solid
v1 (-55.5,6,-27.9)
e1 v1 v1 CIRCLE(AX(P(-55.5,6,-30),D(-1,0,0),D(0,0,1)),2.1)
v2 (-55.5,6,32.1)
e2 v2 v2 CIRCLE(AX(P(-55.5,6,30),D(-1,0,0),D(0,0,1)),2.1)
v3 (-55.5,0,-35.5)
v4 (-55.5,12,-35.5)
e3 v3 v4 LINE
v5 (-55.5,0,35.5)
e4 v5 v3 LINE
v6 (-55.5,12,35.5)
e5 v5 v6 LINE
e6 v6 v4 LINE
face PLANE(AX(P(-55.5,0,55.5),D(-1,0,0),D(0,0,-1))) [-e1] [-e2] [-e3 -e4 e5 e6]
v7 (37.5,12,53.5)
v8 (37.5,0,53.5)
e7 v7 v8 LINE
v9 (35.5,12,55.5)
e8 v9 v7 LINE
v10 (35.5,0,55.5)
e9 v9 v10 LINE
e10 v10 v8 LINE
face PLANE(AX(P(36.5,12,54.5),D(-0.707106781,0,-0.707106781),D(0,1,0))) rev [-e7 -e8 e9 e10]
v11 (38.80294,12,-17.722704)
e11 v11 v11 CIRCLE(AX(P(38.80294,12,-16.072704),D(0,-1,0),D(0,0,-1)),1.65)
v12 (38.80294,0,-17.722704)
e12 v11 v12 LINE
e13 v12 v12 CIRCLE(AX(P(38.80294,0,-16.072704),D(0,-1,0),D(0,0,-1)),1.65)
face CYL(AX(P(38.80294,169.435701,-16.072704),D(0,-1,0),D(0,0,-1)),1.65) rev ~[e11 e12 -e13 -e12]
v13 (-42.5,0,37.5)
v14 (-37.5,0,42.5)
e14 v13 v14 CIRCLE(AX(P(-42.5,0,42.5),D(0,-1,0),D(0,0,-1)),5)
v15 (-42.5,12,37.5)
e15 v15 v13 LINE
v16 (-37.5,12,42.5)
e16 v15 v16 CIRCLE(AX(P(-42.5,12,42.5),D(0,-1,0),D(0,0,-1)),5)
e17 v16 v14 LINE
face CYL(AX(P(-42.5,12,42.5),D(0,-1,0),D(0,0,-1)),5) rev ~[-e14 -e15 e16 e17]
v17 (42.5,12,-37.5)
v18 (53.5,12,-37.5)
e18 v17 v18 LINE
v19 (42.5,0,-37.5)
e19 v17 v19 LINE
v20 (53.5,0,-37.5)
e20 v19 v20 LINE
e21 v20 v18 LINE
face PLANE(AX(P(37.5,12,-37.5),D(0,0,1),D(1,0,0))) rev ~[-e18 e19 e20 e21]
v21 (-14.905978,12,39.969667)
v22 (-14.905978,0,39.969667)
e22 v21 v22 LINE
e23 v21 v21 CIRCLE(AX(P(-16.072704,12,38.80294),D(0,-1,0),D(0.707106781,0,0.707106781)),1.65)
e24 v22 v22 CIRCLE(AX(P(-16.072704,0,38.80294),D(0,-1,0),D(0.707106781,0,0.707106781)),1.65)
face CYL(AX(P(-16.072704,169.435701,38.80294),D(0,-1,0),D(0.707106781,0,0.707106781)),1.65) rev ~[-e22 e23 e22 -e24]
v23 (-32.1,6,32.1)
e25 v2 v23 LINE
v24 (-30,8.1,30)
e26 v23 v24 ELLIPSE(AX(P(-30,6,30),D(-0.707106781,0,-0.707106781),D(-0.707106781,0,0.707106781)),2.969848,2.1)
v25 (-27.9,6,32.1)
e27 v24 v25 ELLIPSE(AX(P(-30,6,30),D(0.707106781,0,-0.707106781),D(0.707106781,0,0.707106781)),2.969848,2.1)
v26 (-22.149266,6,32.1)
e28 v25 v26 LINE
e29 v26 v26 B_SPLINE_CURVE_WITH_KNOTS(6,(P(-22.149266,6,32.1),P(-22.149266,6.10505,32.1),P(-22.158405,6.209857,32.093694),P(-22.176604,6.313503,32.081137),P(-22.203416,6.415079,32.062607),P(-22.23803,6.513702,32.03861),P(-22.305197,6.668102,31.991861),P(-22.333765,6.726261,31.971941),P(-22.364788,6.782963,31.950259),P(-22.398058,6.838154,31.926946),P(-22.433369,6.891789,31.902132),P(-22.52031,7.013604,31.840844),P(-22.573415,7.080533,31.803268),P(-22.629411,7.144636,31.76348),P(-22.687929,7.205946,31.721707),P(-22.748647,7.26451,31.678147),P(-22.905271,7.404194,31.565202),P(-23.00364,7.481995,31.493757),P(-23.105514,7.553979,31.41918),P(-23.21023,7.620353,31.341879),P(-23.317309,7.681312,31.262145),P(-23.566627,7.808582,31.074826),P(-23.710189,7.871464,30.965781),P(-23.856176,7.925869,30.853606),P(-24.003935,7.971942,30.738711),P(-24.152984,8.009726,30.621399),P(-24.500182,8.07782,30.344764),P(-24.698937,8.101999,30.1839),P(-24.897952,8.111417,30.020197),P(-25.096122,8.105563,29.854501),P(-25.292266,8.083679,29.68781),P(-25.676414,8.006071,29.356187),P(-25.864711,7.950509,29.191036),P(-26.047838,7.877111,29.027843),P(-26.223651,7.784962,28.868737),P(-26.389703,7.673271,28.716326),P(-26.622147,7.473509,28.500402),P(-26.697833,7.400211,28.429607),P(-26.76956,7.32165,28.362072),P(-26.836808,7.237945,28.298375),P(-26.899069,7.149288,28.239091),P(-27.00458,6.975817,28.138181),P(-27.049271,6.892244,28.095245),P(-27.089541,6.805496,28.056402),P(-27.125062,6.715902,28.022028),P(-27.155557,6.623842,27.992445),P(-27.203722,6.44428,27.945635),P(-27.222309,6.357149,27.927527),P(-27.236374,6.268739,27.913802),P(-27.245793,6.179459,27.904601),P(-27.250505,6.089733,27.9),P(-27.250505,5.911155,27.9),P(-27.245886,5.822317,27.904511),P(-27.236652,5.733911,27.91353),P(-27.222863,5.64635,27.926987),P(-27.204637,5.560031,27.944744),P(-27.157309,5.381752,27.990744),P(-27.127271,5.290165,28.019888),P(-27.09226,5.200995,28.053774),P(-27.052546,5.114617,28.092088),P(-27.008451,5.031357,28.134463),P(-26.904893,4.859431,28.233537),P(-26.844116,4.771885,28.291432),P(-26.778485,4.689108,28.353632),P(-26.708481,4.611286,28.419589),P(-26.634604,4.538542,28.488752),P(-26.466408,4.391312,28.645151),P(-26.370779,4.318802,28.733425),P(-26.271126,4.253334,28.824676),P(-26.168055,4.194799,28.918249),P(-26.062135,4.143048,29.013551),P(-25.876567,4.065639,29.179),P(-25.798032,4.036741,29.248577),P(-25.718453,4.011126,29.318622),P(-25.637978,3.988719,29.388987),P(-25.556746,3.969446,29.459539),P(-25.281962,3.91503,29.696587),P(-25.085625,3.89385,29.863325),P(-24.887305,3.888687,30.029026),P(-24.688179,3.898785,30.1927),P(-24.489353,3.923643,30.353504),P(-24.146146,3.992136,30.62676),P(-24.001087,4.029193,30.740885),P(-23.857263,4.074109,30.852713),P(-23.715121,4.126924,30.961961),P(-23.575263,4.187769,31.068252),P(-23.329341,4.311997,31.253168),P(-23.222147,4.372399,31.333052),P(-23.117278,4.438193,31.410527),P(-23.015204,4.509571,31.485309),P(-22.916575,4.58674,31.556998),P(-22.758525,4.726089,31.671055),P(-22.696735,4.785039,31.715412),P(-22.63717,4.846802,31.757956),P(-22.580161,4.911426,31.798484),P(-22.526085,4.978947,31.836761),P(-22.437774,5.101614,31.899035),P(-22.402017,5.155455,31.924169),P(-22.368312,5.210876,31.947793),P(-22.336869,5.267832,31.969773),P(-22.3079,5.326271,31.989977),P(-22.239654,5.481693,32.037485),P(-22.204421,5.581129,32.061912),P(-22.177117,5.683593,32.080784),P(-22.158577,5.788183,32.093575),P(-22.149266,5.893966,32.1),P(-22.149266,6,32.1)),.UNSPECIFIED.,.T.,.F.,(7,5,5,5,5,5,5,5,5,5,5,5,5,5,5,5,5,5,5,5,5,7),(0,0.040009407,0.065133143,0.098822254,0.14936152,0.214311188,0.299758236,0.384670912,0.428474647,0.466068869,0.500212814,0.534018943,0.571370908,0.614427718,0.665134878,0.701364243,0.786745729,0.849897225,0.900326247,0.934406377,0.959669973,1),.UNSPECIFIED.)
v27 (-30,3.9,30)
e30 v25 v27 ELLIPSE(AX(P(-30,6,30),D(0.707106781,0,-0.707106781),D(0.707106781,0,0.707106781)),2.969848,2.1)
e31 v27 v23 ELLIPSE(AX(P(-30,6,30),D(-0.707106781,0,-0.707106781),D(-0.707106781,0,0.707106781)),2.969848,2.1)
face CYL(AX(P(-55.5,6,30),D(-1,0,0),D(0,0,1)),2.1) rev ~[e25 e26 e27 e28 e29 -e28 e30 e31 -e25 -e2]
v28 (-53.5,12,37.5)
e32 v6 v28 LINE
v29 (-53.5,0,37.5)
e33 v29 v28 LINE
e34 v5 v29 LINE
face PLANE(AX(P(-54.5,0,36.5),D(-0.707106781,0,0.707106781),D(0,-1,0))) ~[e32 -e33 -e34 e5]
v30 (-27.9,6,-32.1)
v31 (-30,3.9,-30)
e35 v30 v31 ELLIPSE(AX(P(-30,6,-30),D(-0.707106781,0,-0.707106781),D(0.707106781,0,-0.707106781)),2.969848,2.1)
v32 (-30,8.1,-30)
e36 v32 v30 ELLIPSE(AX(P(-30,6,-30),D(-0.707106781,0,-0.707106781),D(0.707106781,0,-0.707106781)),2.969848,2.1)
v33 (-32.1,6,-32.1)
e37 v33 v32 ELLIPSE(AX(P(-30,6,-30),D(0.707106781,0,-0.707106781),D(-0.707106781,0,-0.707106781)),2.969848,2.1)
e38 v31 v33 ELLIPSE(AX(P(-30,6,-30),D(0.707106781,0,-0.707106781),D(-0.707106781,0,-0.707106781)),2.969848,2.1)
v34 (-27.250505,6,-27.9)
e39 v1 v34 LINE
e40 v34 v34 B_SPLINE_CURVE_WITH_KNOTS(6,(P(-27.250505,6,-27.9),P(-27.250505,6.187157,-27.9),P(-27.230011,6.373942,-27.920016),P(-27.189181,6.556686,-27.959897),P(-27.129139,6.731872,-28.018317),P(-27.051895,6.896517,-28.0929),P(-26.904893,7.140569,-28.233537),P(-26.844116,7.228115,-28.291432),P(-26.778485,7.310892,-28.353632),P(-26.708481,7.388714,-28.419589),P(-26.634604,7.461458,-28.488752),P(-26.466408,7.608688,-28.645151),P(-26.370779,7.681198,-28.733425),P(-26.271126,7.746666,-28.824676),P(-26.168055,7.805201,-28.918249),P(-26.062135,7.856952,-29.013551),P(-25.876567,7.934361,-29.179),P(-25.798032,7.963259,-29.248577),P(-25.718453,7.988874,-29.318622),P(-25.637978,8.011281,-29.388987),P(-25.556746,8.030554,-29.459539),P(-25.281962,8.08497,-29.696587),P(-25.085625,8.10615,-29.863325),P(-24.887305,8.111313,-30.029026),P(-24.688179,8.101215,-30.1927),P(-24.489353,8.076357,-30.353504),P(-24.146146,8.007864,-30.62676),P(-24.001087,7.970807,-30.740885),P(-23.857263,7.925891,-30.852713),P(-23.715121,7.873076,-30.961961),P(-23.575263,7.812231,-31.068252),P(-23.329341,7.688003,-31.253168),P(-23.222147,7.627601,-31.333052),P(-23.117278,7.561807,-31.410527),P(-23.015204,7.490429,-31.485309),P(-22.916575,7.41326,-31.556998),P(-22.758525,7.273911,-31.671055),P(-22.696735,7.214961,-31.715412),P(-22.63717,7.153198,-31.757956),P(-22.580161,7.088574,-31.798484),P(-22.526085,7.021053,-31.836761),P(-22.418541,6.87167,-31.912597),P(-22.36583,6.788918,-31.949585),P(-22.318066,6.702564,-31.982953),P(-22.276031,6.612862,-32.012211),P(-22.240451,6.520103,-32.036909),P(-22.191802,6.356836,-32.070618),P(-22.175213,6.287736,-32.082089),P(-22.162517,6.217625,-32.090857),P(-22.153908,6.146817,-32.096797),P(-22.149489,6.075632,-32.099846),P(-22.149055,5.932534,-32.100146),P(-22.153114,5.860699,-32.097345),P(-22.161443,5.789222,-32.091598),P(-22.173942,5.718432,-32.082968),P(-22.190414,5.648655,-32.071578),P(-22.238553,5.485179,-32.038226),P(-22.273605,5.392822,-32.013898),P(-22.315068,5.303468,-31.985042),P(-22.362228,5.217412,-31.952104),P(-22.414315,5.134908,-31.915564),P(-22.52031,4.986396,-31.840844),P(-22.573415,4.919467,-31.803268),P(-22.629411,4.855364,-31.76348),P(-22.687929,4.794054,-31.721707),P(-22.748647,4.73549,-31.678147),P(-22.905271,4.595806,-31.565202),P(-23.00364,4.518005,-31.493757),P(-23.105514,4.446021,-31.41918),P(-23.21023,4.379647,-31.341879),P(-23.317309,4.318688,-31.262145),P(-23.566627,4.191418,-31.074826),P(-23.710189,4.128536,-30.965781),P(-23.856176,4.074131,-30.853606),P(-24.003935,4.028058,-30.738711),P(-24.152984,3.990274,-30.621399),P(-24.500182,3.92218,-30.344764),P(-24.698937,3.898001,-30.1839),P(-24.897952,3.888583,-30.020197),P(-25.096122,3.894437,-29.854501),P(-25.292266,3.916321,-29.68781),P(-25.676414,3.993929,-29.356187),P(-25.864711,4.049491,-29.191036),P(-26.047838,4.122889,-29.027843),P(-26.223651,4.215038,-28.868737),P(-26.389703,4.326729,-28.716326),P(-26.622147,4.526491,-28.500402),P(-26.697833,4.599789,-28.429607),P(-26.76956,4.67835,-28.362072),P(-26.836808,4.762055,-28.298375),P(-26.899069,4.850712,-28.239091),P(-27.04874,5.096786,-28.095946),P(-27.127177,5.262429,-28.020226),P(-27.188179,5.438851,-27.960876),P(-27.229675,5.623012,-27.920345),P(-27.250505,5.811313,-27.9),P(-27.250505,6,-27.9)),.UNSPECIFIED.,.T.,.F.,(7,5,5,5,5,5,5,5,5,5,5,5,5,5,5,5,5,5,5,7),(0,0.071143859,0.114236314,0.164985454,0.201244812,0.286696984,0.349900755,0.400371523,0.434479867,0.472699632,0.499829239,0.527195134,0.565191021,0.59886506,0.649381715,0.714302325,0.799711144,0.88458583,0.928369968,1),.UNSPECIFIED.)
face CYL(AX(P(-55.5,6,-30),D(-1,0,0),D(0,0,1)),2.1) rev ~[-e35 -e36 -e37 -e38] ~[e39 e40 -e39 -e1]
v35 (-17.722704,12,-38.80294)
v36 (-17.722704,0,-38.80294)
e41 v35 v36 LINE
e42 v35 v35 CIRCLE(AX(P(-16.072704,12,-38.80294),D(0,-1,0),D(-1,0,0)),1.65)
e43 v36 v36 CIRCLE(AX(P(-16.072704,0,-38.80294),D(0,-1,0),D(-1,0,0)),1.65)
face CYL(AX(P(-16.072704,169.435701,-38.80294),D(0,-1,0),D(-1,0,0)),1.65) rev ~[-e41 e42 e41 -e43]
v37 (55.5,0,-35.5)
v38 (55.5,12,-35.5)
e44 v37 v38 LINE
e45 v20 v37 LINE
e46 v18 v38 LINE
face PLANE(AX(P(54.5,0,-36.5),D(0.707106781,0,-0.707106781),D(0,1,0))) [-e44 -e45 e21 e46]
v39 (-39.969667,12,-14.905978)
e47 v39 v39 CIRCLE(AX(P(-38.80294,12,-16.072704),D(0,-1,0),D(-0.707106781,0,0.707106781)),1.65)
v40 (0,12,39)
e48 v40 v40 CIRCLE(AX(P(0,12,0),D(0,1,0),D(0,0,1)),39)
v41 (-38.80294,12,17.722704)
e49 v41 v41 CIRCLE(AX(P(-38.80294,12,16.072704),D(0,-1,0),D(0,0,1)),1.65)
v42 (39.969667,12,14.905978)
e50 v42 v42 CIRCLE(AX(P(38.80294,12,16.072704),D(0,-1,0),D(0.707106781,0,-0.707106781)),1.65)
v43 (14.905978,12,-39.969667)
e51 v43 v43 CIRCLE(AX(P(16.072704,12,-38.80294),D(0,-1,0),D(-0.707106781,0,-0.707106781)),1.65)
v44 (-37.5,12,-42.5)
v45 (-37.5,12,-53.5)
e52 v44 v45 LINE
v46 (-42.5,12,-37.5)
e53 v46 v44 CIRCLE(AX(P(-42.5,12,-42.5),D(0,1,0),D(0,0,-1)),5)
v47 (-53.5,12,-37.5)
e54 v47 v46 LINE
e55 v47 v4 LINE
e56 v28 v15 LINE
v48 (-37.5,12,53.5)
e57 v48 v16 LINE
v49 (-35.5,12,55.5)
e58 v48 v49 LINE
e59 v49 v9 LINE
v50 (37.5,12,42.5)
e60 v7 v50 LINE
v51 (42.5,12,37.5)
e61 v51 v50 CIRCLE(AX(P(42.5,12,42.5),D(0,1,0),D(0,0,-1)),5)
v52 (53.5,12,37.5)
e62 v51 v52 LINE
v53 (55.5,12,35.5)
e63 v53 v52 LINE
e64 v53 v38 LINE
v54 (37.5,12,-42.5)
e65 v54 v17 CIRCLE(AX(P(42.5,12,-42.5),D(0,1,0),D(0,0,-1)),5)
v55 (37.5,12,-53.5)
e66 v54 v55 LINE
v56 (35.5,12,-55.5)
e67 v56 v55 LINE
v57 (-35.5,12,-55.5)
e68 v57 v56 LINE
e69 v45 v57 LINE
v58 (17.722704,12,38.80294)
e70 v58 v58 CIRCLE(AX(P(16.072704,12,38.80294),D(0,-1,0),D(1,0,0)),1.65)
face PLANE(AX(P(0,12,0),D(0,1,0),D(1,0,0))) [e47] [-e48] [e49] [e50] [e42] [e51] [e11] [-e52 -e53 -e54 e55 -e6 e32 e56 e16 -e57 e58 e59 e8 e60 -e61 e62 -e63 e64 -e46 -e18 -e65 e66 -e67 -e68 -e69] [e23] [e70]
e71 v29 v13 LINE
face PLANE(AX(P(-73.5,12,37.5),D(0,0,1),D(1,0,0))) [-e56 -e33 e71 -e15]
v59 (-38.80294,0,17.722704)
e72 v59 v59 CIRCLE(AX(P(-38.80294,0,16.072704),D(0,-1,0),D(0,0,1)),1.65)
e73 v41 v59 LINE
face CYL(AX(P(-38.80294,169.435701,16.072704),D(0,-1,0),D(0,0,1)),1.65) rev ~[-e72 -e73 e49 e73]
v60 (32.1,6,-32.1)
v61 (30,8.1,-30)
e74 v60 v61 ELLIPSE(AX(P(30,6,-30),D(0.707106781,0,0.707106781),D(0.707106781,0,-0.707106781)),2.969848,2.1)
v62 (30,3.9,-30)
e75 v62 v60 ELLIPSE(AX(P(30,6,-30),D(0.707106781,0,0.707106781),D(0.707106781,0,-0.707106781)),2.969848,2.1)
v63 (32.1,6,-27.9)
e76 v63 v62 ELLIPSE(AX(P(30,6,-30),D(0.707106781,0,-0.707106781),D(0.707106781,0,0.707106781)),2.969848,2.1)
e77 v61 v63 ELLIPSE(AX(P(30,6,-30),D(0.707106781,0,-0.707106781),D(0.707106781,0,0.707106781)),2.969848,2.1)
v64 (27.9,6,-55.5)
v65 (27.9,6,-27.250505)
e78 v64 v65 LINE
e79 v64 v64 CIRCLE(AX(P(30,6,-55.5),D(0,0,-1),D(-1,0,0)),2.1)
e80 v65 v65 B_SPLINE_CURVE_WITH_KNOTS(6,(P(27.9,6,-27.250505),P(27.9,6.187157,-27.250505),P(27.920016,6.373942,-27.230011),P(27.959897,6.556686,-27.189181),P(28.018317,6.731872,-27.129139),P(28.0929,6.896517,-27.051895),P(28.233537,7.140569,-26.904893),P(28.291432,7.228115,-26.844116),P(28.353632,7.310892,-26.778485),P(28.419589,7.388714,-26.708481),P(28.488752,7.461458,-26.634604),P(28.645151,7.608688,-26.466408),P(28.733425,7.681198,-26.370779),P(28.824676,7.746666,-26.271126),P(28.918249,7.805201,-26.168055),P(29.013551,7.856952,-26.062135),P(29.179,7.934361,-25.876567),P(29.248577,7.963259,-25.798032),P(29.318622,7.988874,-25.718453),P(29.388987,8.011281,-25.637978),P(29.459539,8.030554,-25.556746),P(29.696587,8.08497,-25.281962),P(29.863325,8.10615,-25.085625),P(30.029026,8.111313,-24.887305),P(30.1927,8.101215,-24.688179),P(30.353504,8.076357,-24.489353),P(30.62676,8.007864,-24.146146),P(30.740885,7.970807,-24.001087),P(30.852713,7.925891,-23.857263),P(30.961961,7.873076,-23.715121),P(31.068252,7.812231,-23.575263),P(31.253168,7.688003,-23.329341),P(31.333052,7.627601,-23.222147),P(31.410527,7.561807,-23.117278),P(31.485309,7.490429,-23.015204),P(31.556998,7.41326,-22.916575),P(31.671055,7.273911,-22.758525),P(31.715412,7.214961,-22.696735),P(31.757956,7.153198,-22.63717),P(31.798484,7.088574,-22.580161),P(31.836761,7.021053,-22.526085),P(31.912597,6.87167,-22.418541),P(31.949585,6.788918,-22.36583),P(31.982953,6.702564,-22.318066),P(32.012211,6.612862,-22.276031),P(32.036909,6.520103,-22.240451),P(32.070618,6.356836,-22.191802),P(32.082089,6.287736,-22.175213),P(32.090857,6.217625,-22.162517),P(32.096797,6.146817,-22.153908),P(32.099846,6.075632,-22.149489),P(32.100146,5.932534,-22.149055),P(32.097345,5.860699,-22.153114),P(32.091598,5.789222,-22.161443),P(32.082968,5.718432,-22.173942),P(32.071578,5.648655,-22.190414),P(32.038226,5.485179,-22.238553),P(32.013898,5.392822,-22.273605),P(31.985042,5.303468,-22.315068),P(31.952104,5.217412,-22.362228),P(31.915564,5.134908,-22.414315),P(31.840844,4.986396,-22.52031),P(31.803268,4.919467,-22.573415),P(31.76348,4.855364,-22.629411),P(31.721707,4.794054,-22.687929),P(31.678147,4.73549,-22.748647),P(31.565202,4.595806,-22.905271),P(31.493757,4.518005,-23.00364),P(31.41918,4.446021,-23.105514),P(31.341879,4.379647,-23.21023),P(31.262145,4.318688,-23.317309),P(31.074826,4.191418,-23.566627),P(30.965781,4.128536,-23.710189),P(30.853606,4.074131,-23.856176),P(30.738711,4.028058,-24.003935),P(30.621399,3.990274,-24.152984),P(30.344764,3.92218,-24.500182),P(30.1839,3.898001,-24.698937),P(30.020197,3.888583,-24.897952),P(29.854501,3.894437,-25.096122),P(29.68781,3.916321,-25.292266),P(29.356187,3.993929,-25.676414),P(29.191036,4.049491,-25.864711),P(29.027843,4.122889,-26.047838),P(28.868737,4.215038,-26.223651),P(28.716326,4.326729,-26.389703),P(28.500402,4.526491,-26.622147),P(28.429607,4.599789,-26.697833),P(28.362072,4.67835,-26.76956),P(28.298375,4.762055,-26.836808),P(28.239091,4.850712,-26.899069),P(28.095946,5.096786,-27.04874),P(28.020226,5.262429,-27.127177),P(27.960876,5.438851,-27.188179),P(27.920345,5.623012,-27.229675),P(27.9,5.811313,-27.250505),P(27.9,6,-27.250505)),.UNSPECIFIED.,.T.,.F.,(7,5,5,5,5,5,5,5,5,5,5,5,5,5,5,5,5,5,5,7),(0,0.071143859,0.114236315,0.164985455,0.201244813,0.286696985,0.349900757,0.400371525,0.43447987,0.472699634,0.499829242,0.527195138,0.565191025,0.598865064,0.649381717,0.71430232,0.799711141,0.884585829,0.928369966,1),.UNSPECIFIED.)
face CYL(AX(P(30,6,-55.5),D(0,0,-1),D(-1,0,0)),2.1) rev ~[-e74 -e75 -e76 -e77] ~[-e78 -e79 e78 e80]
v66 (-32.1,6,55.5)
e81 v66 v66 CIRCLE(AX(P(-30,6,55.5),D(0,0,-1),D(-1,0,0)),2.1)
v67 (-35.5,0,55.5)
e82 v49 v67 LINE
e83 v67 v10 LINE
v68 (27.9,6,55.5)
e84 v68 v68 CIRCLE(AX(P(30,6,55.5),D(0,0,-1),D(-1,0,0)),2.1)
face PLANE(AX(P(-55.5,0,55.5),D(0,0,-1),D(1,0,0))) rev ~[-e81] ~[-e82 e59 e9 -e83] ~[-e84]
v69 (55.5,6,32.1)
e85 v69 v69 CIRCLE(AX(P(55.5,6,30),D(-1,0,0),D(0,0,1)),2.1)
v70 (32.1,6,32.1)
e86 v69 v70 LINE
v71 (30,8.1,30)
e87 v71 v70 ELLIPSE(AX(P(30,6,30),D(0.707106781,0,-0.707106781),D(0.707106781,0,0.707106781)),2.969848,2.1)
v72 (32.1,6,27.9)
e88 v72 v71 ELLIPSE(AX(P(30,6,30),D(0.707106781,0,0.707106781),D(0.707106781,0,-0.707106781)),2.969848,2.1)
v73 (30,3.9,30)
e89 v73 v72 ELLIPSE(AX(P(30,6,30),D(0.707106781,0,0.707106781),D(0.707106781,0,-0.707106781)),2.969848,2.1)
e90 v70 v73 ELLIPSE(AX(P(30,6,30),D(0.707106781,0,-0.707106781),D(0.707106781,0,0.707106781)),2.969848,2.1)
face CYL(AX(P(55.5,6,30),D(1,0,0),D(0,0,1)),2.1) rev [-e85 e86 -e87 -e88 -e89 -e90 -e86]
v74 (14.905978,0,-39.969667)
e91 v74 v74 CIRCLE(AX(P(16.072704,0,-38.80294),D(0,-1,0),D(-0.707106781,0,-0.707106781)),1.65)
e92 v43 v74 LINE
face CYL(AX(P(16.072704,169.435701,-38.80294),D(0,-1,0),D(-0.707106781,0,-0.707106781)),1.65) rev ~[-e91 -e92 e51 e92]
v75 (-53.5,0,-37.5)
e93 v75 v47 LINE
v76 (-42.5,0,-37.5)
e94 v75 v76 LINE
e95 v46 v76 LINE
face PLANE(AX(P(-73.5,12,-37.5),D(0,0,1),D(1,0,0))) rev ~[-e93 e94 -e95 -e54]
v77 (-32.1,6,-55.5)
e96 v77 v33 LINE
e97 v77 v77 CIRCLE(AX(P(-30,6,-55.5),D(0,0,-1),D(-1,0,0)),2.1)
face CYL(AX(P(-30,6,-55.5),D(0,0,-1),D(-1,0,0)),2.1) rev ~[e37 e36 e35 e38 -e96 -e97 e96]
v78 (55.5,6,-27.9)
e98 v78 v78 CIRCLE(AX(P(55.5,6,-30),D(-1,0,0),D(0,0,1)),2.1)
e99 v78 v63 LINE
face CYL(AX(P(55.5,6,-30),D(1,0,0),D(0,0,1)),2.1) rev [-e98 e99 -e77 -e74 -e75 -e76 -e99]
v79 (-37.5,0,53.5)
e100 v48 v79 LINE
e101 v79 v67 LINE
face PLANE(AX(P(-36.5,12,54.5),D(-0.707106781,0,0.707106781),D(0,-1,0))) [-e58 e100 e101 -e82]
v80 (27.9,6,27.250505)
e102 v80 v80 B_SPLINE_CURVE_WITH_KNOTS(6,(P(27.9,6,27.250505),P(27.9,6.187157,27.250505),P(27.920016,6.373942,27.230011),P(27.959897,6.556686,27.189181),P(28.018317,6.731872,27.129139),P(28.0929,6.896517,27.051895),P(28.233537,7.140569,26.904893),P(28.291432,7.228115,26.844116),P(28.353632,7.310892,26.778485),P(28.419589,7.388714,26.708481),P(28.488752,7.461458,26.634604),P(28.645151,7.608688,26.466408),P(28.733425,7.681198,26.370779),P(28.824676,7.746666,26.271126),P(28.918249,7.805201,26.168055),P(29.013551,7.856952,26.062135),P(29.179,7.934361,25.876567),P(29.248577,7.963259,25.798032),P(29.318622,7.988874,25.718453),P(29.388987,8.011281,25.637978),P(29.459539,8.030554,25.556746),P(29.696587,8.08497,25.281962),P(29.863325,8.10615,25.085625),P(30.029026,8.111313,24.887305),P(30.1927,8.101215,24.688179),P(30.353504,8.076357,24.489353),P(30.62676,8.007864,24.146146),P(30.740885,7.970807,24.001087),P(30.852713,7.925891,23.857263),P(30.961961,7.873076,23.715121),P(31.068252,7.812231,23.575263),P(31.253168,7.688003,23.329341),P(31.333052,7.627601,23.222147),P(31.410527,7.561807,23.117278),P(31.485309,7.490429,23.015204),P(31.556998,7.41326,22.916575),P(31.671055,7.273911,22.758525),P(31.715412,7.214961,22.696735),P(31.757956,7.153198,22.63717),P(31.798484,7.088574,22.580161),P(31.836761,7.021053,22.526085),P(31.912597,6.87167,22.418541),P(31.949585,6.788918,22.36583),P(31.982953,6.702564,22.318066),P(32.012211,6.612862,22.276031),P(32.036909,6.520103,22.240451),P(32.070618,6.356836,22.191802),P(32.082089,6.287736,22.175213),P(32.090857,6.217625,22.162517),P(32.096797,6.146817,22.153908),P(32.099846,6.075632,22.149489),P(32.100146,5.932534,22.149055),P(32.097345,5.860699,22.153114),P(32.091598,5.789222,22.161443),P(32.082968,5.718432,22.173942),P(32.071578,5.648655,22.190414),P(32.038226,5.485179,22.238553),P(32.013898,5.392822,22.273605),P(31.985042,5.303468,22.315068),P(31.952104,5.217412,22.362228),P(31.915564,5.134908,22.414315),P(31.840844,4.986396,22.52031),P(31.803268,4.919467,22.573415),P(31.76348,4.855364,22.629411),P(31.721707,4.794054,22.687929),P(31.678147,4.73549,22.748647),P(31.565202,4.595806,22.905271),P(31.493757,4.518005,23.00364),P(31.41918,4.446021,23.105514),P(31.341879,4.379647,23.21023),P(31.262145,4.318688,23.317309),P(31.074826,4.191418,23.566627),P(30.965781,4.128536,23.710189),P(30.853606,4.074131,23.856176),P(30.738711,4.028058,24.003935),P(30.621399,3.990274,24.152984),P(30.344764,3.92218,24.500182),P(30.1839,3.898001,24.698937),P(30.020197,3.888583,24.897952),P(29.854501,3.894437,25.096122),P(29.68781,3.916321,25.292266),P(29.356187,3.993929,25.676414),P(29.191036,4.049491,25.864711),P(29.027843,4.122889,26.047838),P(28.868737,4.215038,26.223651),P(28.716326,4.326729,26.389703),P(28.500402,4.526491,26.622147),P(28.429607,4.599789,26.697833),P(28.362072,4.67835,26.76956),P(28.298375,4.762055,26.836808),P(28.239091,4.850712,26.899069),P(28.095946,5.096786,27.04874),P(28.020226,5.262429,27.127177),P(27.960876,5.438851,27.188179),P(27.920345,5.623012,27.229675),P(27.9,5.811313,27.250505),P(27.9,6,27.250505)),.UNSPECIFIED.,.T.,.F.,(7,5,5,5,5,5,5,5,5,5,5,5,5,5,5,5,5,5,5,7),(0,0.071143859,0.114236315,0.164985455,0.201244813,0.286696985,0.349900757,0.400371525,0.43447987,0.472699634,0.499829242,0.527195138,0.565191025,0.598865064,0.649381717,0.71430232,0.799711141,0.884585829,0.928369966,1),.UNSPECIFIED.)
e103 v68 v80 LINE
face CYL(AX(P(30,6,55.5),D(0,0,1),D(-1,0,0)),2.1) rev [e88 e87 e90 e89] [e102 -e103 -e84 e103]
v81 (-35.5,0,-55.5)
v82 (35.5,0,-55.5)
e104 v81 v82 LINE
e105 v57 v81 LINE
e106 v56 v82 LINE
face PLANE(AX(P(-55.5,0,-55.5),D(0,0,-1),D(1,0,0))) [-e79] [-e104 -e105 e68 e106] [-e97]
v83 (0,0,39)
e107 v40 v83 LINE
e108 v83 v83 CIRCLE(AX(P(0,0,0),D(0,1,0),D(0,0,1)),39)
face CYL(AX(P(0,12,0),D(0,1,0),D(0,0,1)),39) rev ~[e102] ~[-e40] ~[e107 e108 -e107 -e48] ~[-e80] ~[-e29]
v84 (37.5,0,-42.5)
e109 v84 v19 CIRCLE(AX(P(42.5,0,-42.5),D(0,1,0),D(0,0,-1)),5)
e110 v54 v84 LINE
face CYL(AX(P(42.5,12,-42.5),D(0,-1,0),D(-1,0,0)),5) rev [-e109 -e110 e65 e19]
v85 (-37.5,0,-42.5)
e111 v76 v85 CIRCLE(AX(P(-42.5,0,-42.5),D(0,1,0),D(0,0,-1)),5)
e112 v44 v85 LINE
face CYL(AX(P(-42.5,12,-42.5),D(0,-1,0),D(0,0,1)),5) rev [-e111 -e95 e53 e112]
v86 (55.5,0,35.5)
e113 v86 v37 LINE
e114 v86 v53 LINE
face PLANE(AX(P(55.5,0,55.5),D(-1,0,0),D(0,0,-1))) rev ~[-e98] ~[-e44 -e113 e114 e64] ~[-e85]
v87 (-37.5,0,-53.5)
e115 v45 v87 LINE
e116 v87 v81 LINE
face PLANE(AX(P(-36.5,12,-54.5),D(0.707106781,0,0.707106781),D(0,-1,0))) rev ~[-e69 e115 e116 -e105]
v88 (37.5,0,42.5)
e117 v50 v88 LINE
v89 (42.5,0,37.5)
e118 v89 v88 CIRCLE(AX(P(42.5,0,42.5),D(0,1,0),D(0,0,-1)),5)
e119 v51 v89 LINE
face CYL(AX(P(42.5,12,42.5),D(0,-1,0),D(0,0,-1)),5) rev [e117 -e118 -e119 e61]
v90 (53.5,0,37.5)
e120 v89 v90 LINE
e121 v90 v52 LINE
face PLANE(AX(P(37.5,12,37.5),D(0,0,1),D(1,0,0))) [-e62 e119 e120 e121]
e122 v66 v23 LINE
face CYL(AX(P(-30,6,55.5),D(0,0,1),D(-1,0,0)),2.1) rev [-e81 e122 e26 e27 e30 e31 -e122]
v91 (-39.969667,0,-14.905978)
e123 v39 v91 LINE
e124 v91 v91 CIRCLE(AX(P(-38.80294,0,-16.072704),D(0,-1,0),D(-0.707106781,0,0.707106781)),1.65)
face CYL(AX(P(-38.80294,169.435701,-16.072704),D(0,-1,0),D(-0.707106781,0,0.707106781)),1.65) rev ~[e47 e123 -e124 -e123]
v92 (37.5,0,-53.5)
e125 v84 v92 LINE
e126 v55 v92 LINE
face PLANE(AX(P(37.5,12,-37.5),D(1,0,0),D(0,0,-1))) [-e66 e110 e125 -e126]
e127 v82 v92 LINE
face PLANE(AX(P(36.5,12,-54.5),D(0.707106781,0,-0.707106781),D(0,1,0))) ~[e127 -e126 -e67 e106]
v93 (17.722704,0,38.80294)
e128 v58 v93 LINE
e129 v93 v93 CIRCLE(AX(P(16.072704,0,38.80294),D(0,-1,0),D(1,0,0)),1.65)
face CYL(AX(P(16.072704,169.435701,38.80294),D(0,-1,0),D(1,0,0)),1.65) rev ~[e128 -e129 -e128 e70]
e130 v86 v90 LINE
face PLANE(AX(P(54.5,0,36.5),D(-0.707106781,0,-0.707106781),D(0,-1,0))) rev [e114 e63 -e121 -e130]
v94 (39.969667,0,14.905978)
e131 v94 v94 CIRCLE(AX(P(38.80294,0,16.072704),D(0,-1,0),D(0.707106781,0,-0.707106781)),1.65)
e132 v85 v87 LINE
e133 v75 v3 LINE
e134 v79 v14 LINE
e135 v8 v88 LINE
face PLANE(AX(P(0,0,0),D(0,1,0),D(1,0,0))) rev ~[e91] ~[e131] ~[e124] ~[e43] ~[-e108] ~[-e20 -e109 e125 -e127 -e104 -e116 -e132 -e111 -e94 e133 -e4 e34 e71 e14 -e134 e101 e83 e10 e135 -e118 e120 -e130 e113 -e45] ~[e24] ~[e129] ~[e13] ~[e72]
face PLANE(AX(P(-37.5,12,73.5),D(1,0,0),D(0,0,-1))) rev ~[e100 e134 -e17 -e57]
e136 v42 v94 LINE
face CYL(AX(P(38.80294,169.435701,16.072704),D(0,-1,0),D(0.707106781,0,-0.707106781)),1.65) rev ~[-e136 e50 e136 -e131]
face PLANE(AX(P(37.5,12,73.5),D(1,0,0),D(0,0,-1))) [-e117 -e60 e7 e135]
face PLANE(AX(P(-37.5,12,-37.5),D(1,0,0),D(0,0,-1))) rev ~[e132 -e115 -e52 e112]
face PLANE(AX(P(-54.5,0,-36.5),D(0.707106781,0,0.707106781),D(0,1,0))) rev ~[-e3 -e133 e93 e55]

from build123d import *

# Parameters (mm, degrees)
SKETCH_1_W               = 111
SKETCH_1_H               = 111
EXTRUDE_1_DEPTH          = 12
SKETCH_2_R               = 39
CUT_EXTRUDE_1_DEPTH      = 80.400881607
HOLE_WIZARD_M4_1_D       = 3.3
PATTERN_CIRCULAR_1_COUNT = 8
SKETCH_8_W               = 36
SKETCH_8_H               = 36
CUT_EXTRUDE_2_DEPTH      = 80.400881607
FILLET_1_R               = 5
CHAMFER_1_SIZE           = 2
HOLE_WIZARD_M5_1_REACH   = 126.681
HOLE_WIZARD_M5_1_BORE_R  = 2.1
HOLE_WIZARD_M5_2_REACH   = 126.681
HOLE_WIZARD_M5_2_BORE_R  = 2.1


with BuildPart() as part:
    # 草图1 → 凸台-拉伸1 (new body)
    with BuildSketch(Plane(origin=(0, 0, 0), x_dir=(1, 0, 0), z_dir=(0, 1, 0))):
        Rectangle(SKETCH_1_W, SKETCH_1_H)
    extrude(amount=EXTRUDE_1_DEPTH)

    # 草图2 → 切除-拉伸1 (cut, through all)
    with BuildSketch(Plane(origin=(0, 12, 0), x_dir=(1, 0, 0), z_dir=(0, 1, 0))):
        with Locations(Location((0, 0, 0), (0, 0, 270))):
            Circle(SKETCH_2_R)
    extrude(amount=-CUT_EXTRUDE_1_DEPTH, mode=Mode.SUBTRACT)

    # M4 螺纹孔1 (through all)
    with Locations(Plane(origin=(0, 12, 0), x_dir=(1, 0, 0), z_dir=(0, 1, 0))):
        with Locations((-16.072704159, 38.802940365)):
            hole_wizard_m4_1 = Hole(HOLE_WIZARD_M4_1_D / 2)

    # 阵列(圆周)1: M4 螺纹孔1 ×8 about axis
    pattern_circular_1_axis = Axis((0, 0, 0), (0, 1, 0))
    for i in range(1, PATTERN_CIRCULAR_1_COUNT):
        add(hole_wizard_m4_1.rotate(pattern_circular_1_axis, i * 360 / PATTERN_CIRCULAR_1_COUNT), mode=Mode.SUBTRACT)

    # 草图8 → 切除-拉伸2 (cut, through all)
    with BuildSketch(Plane(origin=(0, 12, 0), x_dir=(1, 0, 0), z_dir=(0, 1, 0))):
        with Locations((-55.5, 55.5)):
            Rectangle(SKETCH_8_W, SKETCH_8_H)
        with Locations((55.5, 55.5)):
            Rectangle(SKETCH_8_W, SKETCH_8_H)
        with Locations((55.5, -55.5)):
            Rectangle(SKETCH_8_W, SKETCH_8_H)
        with Locations((-55.5, -55.5)):
            Rectangle(SKETCH_8_W, SKETCH_8_H)
    extrude(amount=-CUT_EXTRUDE_2_DEPTH, mode=Mode.SUBTRACT)

    # 圆角1
    fillet_1_edges = [part.edges().sort_by_distance(p)[0] for p in [
        (-37.5, 6, 37.5),
        (37.5, 6, 37.5),
        (-37.5, 6, -37.5),
        (37.5, 6, -37.5),
    ]]
    fillet(fillet_1_edges, radius=FILLET_1_R)

    # 倒角1
    chamfer_1_edges = [part.edges().sort_by_distance(p)[0] for p in [
        (-55.5, 6, 37.5),
        (-37.5, 6, 55.5),
        (37.5, 6, 55.5),
        (55.5, 6, 37.5),
        (-37.5, 6, -55.5),
        (-55.5, 6, -37.5),
        (55.5, 6, -37.5),
        (37.5, 6, -55.5),
    ]]
    chamfer(chamfer_1_edges, length=CHAMFER_1_SIZE)

    # M5 螺纹孔1 bore → M5 螺纹孔1 (cut, up to next)
    with BuildSketch(Plane.ZY.offset(55.5), mode=Mode.PRIVATE) as hole_wizard_m5_1_sk1:
        with Locations((-30, 6)):
            Circle(HOLE_WIZARD_M5_1_BORE_R)
    hole_wizard_m5_1_tool1 = extrude(hole_wizard_m5_1_sk1.sketch, amount=-HOLE_WIZARD_M5_1_REACH, mode=Mode.PRIVATE) & part.part
    # M5 螺纹孔1 bore → M5 螺纹孔1 (cut, up to next)
    with BuildSketch(Plane.ZY.offset(55.5), mode=Mode.PRIVATE) as hole_wizard_m5_1_sk2:
        with Locations((30, 6)):
            Circle(HOLE_WIZARD_M5_1_BORE_R)
    hole_wizard_m5_1_tool2 = extrude(hole_wizard_m5_1_sk2.sketch, amount=-HOLE_WIZARD_M5_1_REACH, mode=Mode.PRIVATE) & part.part
    hole_wizard_m5_1_1 = hole_wizard_m5_1_tool1.solids().sort_by_distance((-55.5, 6, -30))[0]
    add(hole_wizard_m5_1_1, mode=Mode.SUBTRACT)
    hole_wizard_m5_1_2 = hole_wizard_m5_1_tool2.solids().sort_by_distance((-55.5, 6, 30))[0]
    add(hole_wizard_m5_1_2, mode=Mode.SUBTRACT)
    hole_wizard_m5_1 = hole_wizard_m5_1_1 + hole_wizard_m5_1_2  # M5 螺纹孔1 as one shape, for the pattern or mirror that repeats it

    # M5 螺纹孔2 bore → M5 螺纹孔2 (cut, up to next)
    with BuildSketch(Plane(origin=(0, 0, -55.5), x_dir=(-1, 0, 0), z_dir=(0, 0, -1)), mode=Mode.PRIVATE) as hole_wizard_m5_2_sk1:
        with Locations((-30, 6)):
            Circle(HOLE_WIZARD_M5_2_BORE_R)
    hole_wizard_m5_2_tool1 = extrude(hole_wizard_m5_2_sk1.sketch, amount=-HOLE_WIZARD_M5_2_REACH, mode=Mode.PRIVATE) & part.part
    # M5 螺纹孔2 bore → M5 螺纹孔2 (cut, up to next)
    with BuildSketch(Plane(origin=(0, 0, -55.5), x_dir=(-1, 0, 0), z_dir=(0, 0, -1)), mode=Mode.PRIVATE) as hole_wizard_m5_2_sk2:
        with Locations((30, 6)):
            Circle(HOLE_WIZARD_M5_2_BORE_R)
    hole_wizard_m5_2_tool2 = extrude(hole_wizard_m5_2_sk2.sketch, amount=-HOLE_WIZARD_M5_2_REACH, mode=Mode.PRIVATE) & part.part
    hole_wizard_m5_2_1 = hole_wizard_m5_2_tool1.solids().sort_by_distance((30, 6, -55.5))[0]
    add(hole_wizard_m5_2_1, mode=Mode.SUBTRACT)
    hole_wizard_m5_2_2 = hole_wizard_m5_2_tool2.solids().sort_by_distance((-30, 6, -55.5))[0]
    add(hole_wizard_m5_2_2, mode=Mode.SUBTRACT)
    hole_wizard_m5_2 = hole_wizard_m5_2_1 + hole_wizard_m5_2_2  # M5 螺纹孔2 as one shape, for the pattern or mirror that repeats it

    # 镜向1: M5 螺纹孔2 across plane
    add(hole_wizard_m5_2.mirror(Plane.XY), mode=Mode.SUBTRACT)

    # 镜向2: M5 螺纹孔1 mirrored; each copy of M5 螺纹孔1 runs up to whatever stops it at its own place
    mirror_2_before = part.part  # the part as the pattern finds it: every copy runs up to it
    mirror_2_hole_wizard_m5_1_long1 = extrude(hole_wizard_m5_1_sk1.sketch, amount=-HOLE_WIZARD_M5_1_REACH, mode=Mode.PRIVATE)
    mirror_2_hole_wizard_m5_1_long2 = extrude(hole_wizard_m5_1_sk2.sketch, amount=-HOLE_WIZARD_M5_1_REACH, mode=Mode.PRIVATE)
    mirror_2_hole_wizard_m5_1_tool1_1 = mirror_2_hole_wizard_m5_1_long1.mirror(Plane(origin=(0, 0, 0), x_dir=(0, 0, 1), z_dir=(1, 0, 0))) & mirror_2_before
    add(mirror_2_hole_wizard_m5_1_tool1_1.solids().sort_by_distance((55.5, 6, -30))[0], mode=Mode.SUBTRACT)
    mirror_2_hole_wizard_m5_1_tool2_1 = mirror_2_hole_wizard_m5_1_long2.mirror(Plane(origin=(0, 0, 0), x_dir=(0, 0, 1), z_dir=(1, 0, 0))) & mirror_2_before
    add(mirror_2_hole_wizard_m5_1_tool2_1.solids().sort_by_distance((55.5, 6, 30))[0], mode=Mode.SUBTRACT)


solid = part.part
